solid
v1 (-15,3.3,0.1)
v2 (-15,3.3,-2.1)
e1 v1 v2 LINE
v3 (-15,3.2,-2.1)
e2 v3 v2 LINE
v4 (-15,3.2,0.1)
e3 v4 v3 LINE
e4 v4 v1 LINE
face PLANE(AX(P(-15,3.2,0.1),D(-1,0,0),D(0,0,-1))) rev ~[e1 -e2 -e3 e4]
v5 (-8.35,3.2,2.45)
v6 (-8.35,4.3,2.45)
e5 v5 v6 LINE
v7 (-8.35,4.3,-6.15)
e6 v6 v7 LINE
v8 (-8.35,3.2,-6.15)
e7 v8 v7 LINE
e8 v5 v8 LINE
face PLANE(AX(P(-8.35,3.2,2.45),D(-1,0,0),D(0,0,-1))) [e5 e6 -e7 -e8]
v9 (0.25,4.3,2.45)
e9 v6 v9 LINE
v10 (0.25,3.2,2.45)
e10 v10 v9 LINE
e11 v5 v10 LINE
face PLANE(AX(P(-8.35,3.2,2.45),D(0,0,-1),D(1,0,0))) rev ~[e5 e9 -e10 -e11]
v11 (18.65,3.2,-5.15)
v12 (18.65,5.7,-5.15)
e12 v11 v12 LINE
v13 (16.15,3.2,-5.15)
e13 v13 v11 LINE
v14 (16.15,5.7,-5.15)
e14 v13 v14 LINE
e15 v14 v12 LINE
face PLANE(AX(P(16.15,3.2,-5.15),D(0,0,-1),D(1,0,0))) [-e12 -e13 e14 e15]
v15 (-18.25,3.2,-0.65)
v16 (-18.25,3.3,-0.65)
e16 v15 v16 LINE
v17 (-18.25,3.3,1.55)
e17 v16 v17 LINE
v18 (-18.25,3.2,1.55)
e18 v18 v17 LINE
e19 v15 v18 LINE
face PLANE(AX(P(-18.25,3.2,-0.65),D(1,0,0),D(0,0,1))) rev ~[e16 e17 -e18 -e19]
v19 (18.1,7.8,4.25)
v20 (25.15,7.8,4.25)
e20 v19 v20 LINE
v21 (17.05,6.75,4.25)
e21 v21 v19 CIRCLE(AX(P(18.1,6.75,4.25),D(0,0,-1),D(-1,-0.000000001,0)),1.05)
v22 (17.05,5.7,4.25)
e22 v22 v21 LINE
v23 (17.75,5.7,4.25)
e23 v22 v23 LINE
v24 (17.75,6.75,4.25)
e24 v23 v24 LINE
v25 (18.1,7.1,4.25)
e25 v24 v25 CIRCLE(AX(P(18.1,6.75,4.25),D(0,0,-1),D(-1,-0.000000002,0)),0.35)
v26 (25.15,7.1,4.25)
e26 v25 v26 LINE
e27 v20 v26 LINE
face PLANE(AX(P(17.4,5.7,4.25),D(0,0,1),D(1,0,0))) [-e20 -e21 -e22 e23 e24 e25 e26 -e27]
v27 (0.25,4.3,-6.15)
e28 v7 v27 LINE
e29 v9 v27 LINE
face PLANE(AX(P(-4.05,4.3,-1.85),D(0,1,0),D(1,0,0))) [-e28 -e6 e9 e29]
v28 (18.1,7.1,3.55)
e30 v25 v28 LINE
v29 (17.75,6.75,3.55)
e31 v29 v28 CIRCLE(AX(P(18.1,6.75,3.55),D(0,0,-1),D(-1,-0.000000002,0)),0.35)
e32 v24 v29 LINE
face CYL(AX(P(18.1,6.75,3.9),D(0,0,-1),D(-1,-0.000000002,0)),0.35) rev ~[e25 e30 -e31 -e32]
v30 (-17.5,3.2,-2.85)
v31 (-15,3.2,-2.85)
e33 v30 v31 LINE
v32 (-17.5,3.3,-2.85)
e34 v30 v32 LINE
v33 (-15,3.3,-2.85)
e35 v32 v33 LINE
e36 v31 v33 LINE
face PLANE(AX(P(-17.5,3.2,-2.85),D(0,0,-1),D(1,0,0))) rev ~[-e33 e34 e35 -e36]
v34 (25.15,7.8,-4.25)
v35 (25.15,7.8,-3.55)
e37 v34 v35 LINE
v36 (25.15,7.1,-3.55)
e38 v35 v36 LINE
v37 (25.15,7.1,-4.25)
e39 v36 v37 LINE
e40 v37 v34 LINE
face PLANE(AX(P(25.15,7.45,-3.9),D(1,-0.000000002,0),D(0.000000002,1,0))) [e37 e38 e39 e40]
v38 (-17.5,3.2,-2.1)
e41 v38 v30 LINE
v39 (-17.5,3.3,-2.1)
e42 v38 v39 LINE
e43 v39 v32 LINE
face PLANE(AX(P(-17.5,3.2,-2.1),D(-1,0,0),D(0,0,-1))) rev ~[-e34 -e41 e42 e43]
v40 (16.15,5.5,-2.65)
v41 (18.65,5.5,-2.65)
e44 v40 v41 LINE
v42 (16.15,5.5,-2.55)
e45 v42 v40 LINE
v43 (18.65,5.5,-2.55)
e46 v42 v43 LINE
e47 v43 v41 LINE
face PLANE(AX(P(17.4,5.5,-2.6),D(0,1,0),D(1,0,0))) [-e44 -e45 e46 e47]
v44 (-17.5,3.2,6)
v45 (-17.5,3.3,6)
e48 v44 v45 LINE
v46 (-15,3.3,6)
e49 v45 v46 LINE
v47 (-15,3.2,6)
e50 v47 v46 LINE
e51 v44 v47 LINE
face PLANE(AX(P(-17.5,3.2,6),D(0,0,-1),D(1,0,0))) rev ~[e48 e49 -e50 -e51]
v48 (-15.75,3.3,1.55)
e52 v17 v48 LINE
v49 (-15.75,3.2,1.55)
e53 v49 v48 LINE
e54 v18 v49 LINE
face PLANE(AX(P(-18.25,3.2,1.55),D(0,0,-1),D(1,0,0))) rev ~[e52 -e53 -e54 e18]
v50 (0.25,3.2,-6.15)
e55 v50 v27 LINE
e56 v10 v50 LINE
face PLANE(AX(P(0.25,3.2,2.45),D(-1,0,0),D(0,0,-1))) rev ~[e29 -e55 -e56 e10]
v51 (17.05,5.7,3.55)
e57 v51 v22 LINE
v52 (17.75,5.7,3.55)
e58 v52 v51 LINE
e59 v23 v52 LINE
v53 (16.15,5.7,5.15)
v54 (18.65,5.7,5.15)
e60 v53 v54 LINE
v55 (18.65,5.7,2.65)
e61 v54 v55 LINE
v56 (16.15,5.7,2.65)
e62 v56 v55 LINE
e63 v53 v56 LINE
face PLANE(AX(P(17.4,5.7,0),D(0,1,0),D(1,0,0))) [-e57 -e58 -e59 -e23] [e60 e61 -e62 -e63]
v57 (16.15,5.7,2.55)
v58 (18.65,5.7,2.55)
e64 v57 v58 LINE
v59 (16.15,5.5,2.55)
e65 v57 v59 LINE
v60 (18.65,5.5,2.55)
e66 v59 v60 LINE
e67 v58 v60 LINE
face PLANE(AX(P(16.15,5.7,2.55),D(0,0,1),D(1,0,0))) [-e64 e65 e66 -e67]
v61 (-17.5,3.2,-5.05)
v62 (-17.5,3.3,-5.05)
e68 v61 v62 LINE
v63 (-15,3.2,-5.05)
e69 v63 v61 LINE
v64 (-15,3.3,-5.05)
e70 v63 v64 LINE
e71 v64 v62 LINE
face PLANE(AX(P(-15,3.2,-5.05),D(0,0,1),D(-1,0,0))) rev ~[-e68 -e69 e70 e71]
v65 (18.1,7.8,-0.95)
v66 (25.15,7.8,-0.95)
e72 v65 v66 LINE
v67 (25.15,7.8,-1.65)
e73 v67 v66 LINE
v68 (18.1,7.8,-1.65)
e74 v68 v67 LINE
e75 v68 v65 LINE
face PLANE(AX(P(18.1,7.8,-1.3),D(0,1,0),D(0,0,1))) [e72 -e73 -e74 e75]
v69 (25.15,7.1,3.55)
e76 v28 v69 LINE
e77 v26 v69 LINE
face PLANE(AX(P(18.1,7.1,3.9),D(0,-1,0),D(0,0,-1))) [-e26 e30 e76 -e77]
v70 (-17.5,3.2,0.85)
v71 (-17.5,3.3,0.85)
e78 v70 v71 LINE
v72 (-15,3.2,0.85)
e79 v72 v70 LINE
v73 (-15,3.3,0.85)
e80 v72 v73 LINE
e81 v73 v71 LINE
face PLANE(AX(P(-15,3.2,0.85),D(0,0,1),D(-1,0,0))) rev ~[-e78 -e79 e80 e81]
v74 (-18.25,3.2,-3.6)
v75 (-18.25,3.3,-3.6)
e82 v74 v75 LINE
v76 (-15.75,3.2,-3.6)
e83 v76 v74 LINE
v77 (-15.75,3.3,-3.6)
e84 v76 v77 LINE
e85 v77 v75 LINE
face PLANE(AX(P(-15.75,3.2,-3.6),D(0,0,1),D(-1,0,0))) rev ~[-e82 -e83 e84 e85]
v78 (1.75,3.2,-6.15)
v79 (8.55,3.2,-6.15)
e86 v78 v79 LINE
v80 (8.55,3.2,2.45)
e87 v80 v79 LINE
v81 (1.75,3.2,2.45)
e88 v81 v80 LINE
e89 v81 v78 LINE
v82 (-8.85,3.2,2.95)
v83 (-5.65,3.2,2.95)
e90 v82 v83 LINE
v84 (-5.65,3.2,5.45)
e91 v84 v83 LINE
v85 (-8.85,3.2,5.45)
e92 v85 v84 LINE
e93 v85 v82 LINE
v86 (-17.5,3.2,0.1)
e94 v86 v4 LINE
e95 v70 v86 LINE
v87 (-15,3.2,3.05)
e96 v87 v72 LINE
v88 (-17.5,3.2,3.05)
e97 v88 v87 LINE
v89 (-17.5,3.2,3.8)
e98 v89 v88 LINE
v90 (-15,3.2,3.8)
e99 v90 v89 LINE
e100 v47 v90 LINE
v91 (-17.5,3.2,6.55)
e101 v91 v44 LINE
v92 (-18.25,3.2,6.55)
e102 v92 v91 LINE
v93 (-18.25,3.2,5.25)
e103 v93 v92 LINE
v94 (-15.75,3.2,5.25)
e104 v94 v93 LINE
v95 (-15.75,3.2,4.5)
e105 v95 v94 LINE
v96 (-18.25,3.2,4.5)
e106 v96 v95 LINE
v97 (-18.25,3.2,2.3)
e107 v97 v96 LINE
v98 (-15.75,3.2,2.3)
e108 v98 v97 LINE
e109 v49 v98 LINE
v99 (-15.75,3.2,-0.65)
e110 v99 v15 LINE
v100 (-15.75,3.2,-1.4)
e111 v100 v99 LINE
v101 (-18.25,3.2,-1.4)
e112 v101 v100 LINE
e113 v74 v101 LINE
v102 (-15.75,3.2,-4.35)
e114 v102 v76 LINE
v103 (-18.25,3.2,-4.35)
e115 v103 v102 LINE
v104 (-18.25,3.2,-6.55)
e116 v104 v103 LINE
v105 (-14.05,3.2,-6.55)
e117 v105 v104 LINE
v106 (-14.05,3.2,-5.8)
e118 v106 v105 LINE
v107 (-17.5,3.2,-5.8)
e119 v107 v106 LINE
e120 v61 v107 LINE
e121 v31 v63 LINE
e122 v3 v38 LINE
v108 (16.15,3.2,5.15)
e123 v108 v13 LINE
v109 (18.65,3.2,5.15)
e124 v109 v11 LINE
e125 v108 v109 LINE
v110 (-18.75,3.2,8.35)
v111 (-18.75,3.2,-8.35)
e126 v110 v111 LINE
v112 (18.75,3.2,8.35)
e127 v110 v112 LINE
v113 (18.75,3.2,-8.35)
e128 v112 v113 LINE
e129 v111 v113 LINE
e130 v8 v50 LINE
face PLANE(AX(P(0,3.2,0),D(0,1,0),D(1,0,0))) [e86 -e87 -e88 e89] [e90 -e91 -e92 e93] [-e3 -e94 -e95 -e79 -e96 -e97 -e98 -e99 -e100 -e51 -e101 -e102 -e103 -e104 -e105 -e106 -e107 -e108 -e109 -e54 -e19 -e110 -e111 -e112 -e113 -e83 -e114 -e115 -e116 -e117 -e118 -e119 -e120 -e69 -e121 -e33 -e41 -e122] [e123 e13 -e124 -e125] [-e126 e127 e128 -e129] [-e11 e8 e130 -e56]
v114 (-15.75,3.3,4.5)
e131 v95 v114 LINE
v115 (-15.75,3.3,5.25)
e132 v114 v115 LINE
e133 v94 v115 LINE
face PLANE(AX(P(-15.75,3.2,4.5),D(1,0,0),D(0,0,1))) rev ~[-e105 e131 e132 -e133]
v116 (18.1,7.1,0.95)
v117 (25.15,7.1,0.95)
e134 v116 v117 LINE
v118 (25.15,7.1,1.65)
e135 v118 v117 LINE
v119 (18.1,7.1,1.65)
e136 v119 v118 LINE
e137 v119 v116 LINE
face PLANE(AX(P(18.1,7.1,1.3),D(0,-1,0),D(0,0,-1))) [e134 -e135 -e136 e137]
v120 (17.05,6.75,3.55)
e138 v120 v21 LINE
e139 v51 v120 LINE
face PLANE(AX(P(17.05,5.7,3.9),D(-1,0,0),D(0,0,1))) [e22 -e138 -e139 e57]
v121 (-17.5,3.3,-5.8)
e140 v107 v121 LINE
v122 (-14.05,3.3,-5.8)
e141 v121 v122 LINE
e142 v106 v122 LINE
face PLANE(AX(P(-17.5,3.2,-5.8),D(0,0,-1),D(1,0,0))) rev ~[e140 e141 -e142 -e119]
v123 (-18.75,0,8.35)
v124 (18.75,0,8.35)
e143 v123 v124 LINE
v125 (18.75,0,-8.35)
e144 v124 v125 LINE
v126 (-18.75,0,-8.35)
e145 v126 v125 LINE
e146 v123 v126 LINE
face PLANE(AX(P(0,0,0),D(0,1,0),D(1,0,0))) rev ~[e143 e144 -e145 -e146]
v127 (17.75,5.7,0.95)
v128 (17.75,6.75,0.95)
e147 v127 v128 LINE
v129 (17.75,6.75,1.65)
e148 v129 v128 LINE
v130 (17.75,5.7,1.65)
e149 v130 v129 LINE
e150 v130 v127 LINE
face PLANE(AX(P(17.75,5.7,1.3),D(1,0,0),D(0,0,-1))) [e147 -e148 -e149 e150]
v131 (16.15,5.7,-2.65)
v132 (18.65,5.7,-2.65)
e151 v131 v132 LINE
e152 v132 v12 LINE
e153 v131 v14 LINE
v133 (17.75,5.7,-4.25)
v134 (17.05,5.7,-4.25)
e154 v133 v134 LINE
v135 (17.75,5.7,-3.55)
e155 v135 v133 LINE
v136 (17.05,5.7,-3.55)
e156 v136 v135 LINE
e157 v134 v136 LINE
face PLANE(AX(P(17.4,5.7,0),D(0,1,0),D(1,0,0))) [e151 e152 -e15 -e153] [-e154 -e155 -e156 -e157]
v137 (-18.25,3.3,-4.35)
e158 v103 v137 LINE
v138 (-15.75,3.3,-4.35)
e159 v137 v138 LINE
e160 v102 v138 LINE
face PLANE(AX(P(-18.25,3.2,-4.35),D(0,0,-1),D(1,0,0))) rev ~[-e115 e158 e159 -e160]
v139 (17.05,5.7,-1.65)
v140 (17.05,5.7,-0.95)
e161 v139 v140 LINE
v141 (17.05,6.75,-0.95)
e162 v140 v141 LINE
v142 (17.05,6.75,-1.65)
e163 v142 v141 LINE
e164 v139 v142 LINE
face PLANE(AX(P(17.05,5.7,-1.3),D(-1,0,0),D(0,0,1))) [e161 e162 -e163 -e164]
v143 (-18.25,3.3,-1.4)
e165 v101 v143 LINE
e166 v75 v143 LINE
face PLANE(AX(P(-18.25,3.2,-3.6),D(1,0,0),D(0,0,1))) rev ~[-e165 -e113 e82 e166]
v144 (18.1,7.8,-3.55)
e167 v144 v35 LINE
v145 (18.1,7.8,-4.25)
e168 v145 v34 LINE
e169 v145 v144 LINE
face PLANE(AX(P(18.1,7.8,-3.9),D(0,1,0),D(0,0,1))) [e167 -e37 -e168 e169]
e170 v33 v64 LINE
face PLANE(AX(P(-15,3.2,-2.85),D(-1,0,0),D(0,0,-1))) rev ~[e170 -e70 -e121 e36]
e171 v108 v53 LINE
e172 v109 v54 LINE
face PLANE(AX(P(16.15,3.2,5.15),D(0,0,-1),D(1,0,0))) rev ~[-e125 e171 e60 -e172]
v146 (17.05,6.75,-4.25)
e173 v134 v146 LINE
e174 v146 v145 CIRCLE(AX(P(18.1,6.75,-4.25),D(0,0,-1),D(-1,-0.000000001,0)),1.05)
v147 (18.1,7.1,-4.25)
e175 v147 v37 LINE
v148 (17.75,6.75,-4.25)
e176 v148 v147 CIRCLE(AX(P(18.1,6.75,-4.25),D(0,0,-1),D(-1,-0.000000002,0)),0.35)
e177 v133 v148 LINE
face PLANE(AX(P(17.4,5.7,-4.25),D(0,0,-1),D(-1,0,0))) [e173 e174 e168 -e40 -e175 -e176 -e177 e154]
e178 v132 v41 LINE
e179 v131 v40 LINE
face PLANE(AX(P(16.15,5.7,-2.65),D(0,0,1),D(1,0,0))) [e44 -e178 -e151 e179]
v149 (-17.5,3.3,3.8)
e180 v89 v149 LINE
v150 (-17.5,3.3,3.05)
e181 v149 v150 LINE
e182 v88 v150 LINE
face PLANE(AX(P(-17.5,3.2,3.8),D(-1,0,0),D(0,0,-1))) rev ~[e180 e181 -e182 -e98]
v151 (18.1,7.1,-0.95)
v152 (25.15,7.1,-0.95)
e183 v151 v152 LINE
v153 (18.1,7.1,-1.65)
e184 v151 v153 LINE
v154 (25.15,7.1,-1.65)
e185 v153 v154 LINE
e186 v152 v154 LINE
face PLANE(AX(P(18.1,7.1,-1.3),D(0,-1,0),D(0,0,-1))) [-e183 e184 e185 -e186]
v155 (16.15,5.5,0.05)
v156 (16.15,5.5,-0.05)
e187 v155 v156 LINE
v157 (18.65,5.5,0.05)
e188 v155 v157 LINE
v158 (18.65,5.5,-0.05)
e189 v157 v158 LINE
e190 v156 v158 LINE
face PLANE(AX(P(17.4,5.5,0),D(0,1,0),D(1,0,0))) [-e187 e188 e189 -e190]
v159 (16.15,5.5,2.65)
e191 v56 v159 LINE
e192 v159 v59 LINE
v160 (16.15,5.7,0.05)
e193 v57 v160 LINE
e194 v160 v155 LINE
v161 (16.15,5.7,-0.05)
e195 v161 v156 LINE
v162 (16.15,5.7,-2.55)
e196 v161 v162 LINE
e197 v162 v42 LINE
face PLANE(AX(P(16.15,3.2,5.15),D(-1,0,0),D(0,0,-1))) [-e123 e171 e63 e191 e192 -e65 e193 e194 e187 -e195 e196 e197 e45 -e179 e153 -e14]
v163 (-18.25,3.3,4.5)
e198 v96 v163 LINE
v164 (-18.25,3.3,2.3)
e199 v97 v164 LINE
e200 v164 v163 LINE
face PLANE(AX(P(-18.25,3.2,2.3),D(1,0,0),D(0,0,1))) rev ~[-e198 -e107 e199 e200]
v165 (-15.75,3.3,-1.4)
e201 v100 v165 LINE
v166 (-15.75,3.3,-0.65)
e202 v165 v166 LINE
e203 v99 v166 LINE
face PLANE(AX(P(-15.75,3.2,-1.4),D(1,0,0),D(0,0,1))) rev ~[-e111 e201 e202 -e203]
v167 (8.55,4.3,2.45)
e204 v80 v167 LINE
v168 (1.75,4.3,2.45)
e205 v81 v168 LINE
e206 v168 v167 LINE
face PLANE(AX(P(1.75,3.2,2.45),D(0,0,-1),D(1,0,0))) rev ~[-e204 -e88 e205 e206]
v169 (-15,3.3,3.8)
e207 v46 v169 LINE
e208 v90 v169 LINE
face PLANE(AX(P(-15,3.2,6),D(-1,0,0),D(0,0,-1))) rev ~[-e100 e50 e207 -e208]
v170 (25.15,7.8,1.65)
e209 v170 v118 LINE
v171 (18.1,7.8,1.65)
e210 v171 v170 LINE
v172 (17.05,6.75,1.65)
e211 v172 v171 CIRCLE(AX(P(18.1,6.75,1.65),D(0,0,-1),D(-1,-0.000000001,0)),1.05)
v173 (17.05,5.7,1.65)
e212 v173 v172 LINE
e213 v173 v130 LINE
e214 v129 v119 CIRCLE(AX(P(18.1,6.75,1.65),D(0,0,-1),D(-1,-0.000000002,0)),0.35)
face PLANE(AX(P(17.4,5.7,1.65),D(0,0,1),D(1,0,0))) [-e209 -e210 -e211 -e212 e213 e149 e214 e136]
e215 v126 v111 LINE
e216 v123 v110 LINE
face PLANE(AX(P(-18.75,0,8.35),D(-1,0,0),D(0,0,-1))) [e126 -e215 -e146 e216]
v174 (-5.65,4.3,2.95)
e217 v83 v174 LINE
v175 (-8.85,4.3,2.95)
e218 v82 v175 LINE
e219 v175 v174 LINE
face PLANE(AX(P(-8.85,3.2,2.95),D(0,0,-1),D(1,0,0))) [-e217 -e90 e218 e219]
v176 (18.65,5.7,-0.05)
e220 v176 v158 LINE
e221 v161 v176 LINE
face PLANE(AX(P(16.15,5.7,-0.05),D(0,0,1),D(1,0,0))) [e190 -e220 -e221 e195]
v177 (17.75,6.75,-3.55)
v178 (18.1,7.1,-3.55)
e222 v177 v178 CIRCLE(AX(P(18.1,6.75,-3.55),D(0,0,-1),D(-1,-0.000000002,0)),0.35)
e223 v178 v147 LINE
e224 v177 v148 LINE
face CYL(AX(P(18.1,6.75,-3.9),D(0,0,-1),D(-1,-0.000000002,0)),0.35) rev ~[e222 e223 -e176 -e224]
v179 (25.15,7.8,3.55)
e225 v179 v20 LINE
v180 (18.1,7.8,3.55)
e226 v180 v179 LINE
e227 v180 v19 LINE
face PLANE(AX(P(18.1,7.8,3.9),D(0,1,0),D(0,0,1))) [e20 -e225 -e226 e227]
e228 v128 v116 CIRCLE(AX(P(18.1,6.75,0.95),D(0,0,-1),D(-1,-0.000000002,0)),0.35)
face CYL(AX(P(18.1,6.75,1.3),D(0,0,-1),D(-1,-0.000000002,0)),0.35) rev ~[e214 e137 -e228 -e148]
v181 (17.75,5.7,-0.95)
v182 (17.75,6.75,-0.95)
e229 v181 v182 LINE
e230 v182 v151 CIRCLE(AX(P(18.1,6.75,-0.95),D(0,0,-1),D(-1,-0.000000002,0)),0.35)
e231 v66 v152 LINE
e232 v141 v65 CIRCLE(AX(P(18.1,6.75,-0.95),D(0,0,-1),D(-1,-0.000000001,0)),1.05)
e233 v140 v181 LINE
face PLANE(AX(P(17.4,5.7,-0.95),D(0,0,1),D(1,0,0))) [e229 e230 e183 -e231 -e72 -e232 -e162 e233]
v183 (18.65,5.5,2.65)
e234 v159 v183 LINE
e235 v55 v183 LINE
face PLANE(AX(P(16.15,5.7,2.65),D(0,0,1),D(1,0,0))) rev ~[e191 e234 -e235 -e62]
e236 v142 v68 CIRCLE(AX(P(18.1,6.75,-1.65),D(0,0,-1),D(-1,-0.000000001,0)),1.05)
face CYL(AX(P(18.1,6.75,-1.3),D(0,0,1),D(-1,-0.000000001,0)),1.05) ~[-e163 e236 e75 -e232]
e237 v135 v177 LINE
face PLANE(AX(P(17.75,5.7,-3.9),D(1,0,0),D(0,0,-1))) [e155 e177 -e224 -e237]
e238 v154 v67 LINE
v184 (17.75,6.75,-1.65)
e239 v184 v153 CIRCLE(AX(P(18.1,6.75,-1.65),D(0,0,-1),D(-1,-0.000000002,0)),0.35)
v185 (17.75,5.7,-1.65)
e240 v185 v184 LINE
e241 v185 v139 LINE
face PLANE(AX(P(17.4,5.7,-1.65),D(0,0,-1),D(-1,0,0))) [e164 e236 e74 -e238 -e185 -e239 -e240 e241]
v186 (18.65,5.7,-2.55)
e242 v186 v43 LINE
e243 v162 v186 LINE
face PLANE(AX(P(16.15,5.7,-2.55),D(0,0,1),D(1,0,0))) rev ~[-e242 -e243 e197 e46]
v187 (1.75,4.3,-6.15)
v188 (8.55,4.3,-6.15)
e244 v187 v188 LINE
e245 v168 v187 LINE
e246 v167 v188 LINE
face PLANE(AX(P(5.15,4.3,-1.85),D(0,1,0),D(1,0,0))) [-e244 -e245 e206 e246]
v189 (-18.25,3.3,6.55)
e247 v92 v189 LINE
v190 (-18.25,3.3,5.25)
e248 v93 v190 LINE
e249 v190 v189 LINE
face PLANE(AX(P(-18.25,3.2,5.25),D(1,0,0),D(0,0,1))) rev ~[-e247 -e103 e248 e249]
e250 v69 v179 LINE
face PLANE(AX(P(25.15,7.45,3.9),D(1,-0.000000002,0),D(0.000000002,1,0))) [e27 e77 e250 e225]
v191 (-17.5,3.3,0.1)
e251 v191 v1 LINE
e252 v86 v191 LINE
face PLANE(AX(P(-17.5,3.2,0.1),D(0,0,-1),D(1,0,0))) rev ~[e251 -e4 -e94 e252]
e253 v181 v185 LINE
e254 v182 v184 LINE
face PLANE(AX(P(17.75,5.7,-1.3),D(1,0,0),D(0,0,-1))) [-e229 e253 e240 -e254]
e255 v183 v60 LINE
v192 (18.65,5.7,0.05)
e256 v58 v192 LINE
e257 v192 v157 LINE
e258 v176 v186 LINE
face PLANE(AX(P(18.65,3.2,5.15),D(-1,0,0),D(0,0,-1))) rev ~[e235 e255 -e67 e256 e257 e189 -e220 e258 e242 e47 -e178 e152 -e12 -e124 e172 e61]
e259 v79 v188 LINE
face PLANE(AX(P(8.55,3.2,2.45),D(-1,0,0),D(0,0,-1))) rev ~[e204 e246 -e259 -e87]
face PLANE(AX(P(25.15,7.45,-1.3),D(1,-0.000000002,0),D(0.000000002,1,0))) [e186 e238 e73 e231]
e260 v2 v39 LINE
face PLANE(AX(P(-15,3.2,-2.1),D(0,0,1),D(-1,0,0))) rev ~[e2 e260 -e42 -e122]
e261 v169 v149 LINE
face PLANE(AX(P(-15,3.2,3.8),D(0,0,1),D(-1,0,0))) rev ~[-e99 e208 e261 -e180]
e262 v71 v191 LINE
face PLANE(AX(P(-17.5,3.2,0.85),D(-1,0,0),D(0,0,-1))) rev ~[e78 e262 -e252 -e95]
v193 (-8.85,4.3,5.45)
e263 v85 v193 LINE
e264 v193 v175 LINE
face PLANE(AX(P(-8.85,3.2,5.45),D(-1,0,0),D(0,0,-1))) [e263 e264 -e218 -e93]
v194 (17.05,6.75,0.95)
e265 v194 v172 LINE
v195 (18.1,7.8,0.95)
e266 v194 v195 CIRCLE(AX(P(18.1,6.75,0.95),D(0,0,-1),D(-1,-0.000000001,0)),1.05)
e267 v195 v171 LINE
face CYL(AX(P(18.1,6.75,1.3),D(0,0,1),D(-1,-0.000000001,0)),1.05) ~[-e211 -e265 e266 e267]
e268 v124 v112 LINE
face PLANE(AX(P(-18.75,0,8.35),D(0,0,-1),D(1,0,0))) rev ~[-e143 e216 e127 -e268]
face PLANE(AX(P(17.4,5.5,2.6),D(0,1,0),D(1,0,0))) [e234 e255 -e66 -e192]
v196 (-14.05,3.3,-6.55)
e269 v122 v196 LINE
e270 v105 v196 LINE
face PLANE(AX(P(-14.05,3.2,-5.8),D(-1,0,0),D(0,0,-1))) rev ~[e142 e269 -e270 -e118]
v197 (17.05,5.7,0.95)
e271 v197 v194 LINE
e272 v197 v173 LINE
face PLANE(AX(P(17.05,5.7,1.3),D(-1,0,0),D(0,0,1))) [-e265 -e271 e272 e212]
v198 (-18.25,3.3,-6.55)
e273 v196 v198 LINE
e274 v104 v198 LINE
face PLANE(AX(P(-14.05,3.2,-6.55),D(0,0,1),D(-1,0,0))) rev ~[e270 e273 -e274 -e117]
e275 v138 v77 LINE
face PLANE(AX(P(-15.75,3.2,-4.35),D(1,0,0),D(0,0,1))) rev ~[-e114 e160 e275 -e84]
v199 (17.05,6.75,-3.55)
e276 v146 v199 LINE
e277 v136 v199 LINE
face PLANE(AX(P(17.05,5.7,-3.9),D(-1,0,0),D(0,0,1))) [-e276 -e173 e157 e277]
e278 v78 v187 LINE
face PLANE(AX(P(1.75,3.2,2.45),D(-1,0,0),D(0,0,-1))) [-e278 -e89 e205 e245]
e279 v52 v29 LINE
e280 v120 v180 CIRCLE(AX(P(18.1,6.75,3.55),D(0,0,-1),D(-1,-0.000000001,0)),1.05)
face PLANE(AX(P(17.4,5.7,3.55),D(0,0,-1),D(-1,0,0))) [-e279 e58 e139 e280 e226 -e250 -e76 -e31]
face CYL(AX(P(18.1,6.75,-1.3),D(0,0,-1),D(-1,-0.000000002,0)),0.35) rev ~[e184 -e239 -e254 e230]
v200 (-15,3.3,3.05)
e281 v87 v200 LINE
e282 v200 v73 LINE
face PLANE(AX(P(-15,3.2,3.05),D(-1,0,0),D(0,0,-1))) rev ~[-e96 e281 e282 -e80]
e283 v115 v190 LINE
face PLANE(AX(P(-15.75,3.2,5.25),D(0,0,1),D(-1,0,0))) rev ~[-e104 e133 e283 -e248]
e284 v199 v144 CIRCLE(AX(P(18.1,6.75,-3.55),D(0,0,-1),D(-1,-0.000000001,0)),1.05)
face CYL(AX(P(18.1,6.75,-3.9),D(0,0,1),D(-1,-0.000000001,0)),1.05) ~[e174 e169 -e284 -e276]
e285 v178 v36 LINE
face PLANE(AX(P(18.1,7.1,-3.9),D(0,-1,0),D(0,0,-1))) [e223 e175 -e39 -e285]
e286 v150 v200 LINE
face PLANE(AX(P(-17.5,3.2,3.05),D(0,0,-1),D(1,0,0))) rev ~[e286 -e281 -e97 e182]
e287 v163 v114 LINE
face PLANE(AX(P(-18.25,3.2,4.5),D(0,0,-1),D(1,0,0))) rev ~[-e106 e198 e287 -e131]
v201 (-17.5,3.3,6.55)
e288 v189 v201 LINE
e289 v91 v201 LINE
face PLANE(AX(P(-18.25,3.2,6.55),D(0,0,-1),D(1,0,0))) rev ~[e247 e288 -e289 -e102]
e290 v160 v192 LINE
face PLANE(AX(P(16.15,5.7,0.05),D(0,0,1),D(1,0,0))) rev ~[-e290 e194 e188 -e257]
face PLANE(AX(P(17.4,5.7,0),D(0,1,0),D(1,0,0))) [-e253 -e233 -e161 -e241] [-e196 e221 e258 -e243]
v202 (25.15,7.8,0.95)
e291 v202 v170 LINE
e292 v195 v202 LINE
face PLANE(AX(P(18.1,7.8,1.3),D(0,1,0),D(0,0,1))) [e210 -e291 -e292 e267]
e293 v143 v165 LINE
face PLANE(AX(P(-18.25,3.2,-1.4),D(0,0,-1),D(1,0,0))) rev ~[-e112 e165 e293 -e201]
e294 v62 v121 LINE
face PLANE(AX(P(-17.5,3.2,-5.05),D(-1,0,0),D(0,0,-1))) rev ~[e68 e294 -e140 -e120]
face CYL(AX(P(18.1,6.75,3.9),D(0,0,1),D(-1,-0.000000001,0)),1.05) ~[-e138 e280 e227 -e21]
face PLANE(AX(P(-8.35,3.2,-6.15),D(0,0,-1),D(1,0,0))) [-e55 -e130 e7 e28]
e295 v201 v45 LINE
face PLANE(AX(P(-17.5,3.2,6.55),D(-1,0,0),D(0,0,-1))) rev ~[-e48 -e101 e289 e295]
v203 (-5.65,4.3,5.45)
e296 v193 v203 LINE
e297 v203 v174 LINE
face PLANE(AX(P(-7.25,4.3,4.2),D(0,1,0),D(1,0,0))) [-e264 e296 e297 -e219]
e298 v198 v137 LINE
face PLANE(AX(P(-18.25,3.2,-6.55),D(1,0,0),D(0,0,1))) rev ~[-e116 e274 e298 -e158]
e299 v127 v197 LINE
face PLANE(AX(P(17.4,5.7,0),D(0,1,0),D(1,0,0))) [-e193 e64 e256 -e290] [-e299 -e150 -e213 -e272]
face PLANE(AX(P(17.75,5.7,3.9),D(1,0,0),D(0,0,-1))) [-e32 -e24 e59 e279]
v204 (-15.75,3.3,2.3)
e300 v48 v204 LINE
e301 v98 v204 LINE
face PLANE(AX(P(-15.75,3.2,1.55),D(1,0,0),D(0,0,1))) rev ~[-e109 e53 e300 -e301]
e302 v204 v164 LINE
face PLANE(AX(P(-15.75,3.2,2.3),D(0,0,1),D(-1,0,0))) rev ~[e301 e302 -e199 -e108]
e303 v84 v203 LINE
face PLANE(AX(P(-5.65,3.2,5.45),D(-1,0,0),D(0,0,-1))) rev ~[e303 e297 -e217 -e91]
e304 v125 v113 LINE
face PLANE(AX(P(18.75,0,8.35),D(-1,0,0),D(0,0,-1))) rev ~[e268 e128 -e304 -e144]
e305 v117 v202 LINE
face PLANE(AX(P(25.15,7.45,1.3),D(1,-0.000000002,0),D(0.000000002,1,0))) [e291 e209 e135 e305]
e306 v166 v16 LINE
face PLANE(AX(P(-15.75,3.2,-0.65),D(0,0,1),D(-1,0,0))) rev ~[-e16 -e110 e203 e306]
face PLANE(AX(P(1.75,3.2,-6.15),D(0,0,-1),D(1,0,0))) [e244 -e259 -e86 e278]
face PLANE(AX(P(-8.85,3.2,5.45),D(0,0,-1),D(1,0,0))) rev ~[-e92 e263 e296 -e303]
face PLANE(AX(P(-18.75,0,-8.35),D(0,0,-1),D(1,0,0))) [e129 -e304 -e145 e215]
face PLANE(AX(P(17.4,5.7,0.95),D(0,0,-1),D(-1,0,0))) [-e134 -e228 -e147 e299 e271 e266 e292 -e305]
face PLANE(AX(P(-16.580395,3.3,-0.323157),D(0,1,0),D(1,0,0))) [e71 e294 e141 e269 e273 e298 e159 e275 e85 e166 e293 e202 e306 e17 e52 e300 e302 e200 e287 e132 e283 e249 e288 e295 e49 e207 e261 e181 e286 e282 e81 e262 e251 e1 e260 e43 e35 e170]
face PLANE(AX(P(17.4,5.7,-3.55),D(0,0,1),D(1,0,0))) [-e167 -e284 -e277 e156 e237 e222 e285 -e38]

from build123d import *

# Parameters (mm, degrees)
SKETCH1_W           = 37.5
SKETCH1_H           = 16.7
BOSS_EXTRUDE1_DEPTH = 3.2
SKETCH2_W           = 8.6
SKETCH2_H           = 8.6
SKETCH2_W_2         = 6.8
SKETCH2_W_3         = 3.2
SKETCH2_H_2         = 2.5
BOSS_EXTRUDE2_DEPTH = 1.1
BOSS_EXTRUDE3_DEPTH = 0.1
SKETCH4_W           = 2.5
SKETCH4_H           = 10.3
BOSS_EXTRUDE4_DEPTH = 2.5
SKETCH5_W           = 2.5
SKETCH5_H           = 0.1
CUT_EXTRUDE1_DEPTH  = 0.2
SKETCH6_W           = 0.7
SKETCH6_H           = 0.7


with BuildPart() as part:
    # Sketch1 → Boss-Extrude1 (new body)
    with BuildSketch(Plane(origin=(0, 0, 0), x_dir=(1, 0, 0), z_dir=(0, 1, 0))):
        Rectangle(SKETCH1_W, SKETCH1_H)
    extrude(amount=BOSS_EXTRUDE1_DEPTH)

    # Sketch2 → Boss-Extrude2 (add)
    with BuildSketch(Plane(origin=(0, 3.2, 0), x_dir=(1, 0, 0), z_dir=(0, 1, 0))):
        with Locations((-4.05, 1.85)):
            Rectangle(SKETCH2_W, SKETCH2_H)
        with Locations((5.15, 1.85)):
            Rectangle(SKETCH2_W_2, SKETCH2_H)
        with Locations((-7.25, -4.2)):
            Rectangle(SKETCH2_W_3, SKETCH2_H_2)
    extrude(amount=BOSS_EXTRUDE2_DEPTH)

    # Sketch3 → Boss-Extrude3 (add)
    with BuildSketch(Plane(origin=(0, 3.2, 0), x_dir=(1, 0, 0), z_dir=(0, 1, 0))):
        Polygon((-14.05, 6.55), (-18.25, 6.55), (-18.25, 4.35), (-15.75, 4.35), (-15.75, 3.6), (-18.25, 3.6), (-18.25, 1.4), (-15.75, 1.4), (-15.75, 0.65), (-18.25, 0.65), (-18.25, -1.55), (-15.75, -1.55), (-15.75, -2.3), (-18.25, -2.3), (-18.25, -4.5), (-15.75, -4.5), (-15.75, -5.25), (-18.25, -5.25), (-18.25, -6.55), (-17.5, -6.55), (-17.5, -6), (-15, -6), (-15, -3.8), (-17.5, -3.8), (-17.5, -3.05), (-15, -3.05), (-15, -0.85), (-17.5, -0.85), (-17.5, -0.1), (-15, -0.1), (-15, 2.1), (-17.5, 2.1), (-17.5, 2.85), (-15, 2.85), (-15, 5.05), (-17.5, 5.05), (-17.5, 5.8), (-14.05, 5.8), align=None)
    extrude(amount=BOSS_EXTRUDE3_DEPTH)

    # Sketch4 → Boss-Extrude4 (add)
    with BuildSketch(Plane(origin=(0, 3.2, 0), x_dir=(1, 0, 0), z_dir=(0, 1, 0))):
        with Locations((17.4, 0)):
            Rectangle(SKETCH4_W, SKETCH4_H)
    extrude(amount=BOSS_EXTRUDE4_DEPTH)

    # Sketch5 → Cut-Extrude1 (cut)
    with BuildSketch(Plane(origin=(0, 5.7, 0), x_dir=(1, 0, 0), z_dir=(0, 1, 0))):
        with Locations((17.4, 2.6)):
            Rectangle(SKETCH5_W, SKETCH5_H)
        with Locations((17.4, -2.6)):
            Rectangle(SKETCH5_W, SKETCH5_H)
        with Locations((17.4, 0)):
            Rectangle(SKETCH5_W, SKETCH5_H)
    extrude(amount=-CUT_EXTRUDE1_DEPTH, mode=Mode.SUBTRACT)

    # Sweep1: sweep along a path in Sketch7
    with BuildLine(Plane.XY) as sweep1_path:
        Line((17.4, 5.7), (17.4, 6.75))
        ThreePointArc((17.4, 6.75), (17.605025253, 7.244974747), (18.1, 7.45))
        Line((18.1, 7.45), (25.15, 7.45))
    # Sketch6 → Sweep1 (sweep)
    with BuildSketch(Plane(origin=(0, 5.7, 0), x_dir=(1, 0, 0), z_dir=(0, 1, 0))):
        with Locations((17.4, 3.9)):
            Rectangle(SKETCH6_W, SKETCH6_H)
        with Locations((17.4, 1.3)):
            Rectangle(SKETCH6_W, SKETCH6_H)
        with Locations((17.4, -1.3)):
            Rectangle(SKETCH6_W, SKETCH6_H)
        with Locations((17.4, -3.9)):
            Rectangle(SKETCH6_W, SKETCH6_H)
    sweep(path=sweep1_path.line)


solid = part.part
